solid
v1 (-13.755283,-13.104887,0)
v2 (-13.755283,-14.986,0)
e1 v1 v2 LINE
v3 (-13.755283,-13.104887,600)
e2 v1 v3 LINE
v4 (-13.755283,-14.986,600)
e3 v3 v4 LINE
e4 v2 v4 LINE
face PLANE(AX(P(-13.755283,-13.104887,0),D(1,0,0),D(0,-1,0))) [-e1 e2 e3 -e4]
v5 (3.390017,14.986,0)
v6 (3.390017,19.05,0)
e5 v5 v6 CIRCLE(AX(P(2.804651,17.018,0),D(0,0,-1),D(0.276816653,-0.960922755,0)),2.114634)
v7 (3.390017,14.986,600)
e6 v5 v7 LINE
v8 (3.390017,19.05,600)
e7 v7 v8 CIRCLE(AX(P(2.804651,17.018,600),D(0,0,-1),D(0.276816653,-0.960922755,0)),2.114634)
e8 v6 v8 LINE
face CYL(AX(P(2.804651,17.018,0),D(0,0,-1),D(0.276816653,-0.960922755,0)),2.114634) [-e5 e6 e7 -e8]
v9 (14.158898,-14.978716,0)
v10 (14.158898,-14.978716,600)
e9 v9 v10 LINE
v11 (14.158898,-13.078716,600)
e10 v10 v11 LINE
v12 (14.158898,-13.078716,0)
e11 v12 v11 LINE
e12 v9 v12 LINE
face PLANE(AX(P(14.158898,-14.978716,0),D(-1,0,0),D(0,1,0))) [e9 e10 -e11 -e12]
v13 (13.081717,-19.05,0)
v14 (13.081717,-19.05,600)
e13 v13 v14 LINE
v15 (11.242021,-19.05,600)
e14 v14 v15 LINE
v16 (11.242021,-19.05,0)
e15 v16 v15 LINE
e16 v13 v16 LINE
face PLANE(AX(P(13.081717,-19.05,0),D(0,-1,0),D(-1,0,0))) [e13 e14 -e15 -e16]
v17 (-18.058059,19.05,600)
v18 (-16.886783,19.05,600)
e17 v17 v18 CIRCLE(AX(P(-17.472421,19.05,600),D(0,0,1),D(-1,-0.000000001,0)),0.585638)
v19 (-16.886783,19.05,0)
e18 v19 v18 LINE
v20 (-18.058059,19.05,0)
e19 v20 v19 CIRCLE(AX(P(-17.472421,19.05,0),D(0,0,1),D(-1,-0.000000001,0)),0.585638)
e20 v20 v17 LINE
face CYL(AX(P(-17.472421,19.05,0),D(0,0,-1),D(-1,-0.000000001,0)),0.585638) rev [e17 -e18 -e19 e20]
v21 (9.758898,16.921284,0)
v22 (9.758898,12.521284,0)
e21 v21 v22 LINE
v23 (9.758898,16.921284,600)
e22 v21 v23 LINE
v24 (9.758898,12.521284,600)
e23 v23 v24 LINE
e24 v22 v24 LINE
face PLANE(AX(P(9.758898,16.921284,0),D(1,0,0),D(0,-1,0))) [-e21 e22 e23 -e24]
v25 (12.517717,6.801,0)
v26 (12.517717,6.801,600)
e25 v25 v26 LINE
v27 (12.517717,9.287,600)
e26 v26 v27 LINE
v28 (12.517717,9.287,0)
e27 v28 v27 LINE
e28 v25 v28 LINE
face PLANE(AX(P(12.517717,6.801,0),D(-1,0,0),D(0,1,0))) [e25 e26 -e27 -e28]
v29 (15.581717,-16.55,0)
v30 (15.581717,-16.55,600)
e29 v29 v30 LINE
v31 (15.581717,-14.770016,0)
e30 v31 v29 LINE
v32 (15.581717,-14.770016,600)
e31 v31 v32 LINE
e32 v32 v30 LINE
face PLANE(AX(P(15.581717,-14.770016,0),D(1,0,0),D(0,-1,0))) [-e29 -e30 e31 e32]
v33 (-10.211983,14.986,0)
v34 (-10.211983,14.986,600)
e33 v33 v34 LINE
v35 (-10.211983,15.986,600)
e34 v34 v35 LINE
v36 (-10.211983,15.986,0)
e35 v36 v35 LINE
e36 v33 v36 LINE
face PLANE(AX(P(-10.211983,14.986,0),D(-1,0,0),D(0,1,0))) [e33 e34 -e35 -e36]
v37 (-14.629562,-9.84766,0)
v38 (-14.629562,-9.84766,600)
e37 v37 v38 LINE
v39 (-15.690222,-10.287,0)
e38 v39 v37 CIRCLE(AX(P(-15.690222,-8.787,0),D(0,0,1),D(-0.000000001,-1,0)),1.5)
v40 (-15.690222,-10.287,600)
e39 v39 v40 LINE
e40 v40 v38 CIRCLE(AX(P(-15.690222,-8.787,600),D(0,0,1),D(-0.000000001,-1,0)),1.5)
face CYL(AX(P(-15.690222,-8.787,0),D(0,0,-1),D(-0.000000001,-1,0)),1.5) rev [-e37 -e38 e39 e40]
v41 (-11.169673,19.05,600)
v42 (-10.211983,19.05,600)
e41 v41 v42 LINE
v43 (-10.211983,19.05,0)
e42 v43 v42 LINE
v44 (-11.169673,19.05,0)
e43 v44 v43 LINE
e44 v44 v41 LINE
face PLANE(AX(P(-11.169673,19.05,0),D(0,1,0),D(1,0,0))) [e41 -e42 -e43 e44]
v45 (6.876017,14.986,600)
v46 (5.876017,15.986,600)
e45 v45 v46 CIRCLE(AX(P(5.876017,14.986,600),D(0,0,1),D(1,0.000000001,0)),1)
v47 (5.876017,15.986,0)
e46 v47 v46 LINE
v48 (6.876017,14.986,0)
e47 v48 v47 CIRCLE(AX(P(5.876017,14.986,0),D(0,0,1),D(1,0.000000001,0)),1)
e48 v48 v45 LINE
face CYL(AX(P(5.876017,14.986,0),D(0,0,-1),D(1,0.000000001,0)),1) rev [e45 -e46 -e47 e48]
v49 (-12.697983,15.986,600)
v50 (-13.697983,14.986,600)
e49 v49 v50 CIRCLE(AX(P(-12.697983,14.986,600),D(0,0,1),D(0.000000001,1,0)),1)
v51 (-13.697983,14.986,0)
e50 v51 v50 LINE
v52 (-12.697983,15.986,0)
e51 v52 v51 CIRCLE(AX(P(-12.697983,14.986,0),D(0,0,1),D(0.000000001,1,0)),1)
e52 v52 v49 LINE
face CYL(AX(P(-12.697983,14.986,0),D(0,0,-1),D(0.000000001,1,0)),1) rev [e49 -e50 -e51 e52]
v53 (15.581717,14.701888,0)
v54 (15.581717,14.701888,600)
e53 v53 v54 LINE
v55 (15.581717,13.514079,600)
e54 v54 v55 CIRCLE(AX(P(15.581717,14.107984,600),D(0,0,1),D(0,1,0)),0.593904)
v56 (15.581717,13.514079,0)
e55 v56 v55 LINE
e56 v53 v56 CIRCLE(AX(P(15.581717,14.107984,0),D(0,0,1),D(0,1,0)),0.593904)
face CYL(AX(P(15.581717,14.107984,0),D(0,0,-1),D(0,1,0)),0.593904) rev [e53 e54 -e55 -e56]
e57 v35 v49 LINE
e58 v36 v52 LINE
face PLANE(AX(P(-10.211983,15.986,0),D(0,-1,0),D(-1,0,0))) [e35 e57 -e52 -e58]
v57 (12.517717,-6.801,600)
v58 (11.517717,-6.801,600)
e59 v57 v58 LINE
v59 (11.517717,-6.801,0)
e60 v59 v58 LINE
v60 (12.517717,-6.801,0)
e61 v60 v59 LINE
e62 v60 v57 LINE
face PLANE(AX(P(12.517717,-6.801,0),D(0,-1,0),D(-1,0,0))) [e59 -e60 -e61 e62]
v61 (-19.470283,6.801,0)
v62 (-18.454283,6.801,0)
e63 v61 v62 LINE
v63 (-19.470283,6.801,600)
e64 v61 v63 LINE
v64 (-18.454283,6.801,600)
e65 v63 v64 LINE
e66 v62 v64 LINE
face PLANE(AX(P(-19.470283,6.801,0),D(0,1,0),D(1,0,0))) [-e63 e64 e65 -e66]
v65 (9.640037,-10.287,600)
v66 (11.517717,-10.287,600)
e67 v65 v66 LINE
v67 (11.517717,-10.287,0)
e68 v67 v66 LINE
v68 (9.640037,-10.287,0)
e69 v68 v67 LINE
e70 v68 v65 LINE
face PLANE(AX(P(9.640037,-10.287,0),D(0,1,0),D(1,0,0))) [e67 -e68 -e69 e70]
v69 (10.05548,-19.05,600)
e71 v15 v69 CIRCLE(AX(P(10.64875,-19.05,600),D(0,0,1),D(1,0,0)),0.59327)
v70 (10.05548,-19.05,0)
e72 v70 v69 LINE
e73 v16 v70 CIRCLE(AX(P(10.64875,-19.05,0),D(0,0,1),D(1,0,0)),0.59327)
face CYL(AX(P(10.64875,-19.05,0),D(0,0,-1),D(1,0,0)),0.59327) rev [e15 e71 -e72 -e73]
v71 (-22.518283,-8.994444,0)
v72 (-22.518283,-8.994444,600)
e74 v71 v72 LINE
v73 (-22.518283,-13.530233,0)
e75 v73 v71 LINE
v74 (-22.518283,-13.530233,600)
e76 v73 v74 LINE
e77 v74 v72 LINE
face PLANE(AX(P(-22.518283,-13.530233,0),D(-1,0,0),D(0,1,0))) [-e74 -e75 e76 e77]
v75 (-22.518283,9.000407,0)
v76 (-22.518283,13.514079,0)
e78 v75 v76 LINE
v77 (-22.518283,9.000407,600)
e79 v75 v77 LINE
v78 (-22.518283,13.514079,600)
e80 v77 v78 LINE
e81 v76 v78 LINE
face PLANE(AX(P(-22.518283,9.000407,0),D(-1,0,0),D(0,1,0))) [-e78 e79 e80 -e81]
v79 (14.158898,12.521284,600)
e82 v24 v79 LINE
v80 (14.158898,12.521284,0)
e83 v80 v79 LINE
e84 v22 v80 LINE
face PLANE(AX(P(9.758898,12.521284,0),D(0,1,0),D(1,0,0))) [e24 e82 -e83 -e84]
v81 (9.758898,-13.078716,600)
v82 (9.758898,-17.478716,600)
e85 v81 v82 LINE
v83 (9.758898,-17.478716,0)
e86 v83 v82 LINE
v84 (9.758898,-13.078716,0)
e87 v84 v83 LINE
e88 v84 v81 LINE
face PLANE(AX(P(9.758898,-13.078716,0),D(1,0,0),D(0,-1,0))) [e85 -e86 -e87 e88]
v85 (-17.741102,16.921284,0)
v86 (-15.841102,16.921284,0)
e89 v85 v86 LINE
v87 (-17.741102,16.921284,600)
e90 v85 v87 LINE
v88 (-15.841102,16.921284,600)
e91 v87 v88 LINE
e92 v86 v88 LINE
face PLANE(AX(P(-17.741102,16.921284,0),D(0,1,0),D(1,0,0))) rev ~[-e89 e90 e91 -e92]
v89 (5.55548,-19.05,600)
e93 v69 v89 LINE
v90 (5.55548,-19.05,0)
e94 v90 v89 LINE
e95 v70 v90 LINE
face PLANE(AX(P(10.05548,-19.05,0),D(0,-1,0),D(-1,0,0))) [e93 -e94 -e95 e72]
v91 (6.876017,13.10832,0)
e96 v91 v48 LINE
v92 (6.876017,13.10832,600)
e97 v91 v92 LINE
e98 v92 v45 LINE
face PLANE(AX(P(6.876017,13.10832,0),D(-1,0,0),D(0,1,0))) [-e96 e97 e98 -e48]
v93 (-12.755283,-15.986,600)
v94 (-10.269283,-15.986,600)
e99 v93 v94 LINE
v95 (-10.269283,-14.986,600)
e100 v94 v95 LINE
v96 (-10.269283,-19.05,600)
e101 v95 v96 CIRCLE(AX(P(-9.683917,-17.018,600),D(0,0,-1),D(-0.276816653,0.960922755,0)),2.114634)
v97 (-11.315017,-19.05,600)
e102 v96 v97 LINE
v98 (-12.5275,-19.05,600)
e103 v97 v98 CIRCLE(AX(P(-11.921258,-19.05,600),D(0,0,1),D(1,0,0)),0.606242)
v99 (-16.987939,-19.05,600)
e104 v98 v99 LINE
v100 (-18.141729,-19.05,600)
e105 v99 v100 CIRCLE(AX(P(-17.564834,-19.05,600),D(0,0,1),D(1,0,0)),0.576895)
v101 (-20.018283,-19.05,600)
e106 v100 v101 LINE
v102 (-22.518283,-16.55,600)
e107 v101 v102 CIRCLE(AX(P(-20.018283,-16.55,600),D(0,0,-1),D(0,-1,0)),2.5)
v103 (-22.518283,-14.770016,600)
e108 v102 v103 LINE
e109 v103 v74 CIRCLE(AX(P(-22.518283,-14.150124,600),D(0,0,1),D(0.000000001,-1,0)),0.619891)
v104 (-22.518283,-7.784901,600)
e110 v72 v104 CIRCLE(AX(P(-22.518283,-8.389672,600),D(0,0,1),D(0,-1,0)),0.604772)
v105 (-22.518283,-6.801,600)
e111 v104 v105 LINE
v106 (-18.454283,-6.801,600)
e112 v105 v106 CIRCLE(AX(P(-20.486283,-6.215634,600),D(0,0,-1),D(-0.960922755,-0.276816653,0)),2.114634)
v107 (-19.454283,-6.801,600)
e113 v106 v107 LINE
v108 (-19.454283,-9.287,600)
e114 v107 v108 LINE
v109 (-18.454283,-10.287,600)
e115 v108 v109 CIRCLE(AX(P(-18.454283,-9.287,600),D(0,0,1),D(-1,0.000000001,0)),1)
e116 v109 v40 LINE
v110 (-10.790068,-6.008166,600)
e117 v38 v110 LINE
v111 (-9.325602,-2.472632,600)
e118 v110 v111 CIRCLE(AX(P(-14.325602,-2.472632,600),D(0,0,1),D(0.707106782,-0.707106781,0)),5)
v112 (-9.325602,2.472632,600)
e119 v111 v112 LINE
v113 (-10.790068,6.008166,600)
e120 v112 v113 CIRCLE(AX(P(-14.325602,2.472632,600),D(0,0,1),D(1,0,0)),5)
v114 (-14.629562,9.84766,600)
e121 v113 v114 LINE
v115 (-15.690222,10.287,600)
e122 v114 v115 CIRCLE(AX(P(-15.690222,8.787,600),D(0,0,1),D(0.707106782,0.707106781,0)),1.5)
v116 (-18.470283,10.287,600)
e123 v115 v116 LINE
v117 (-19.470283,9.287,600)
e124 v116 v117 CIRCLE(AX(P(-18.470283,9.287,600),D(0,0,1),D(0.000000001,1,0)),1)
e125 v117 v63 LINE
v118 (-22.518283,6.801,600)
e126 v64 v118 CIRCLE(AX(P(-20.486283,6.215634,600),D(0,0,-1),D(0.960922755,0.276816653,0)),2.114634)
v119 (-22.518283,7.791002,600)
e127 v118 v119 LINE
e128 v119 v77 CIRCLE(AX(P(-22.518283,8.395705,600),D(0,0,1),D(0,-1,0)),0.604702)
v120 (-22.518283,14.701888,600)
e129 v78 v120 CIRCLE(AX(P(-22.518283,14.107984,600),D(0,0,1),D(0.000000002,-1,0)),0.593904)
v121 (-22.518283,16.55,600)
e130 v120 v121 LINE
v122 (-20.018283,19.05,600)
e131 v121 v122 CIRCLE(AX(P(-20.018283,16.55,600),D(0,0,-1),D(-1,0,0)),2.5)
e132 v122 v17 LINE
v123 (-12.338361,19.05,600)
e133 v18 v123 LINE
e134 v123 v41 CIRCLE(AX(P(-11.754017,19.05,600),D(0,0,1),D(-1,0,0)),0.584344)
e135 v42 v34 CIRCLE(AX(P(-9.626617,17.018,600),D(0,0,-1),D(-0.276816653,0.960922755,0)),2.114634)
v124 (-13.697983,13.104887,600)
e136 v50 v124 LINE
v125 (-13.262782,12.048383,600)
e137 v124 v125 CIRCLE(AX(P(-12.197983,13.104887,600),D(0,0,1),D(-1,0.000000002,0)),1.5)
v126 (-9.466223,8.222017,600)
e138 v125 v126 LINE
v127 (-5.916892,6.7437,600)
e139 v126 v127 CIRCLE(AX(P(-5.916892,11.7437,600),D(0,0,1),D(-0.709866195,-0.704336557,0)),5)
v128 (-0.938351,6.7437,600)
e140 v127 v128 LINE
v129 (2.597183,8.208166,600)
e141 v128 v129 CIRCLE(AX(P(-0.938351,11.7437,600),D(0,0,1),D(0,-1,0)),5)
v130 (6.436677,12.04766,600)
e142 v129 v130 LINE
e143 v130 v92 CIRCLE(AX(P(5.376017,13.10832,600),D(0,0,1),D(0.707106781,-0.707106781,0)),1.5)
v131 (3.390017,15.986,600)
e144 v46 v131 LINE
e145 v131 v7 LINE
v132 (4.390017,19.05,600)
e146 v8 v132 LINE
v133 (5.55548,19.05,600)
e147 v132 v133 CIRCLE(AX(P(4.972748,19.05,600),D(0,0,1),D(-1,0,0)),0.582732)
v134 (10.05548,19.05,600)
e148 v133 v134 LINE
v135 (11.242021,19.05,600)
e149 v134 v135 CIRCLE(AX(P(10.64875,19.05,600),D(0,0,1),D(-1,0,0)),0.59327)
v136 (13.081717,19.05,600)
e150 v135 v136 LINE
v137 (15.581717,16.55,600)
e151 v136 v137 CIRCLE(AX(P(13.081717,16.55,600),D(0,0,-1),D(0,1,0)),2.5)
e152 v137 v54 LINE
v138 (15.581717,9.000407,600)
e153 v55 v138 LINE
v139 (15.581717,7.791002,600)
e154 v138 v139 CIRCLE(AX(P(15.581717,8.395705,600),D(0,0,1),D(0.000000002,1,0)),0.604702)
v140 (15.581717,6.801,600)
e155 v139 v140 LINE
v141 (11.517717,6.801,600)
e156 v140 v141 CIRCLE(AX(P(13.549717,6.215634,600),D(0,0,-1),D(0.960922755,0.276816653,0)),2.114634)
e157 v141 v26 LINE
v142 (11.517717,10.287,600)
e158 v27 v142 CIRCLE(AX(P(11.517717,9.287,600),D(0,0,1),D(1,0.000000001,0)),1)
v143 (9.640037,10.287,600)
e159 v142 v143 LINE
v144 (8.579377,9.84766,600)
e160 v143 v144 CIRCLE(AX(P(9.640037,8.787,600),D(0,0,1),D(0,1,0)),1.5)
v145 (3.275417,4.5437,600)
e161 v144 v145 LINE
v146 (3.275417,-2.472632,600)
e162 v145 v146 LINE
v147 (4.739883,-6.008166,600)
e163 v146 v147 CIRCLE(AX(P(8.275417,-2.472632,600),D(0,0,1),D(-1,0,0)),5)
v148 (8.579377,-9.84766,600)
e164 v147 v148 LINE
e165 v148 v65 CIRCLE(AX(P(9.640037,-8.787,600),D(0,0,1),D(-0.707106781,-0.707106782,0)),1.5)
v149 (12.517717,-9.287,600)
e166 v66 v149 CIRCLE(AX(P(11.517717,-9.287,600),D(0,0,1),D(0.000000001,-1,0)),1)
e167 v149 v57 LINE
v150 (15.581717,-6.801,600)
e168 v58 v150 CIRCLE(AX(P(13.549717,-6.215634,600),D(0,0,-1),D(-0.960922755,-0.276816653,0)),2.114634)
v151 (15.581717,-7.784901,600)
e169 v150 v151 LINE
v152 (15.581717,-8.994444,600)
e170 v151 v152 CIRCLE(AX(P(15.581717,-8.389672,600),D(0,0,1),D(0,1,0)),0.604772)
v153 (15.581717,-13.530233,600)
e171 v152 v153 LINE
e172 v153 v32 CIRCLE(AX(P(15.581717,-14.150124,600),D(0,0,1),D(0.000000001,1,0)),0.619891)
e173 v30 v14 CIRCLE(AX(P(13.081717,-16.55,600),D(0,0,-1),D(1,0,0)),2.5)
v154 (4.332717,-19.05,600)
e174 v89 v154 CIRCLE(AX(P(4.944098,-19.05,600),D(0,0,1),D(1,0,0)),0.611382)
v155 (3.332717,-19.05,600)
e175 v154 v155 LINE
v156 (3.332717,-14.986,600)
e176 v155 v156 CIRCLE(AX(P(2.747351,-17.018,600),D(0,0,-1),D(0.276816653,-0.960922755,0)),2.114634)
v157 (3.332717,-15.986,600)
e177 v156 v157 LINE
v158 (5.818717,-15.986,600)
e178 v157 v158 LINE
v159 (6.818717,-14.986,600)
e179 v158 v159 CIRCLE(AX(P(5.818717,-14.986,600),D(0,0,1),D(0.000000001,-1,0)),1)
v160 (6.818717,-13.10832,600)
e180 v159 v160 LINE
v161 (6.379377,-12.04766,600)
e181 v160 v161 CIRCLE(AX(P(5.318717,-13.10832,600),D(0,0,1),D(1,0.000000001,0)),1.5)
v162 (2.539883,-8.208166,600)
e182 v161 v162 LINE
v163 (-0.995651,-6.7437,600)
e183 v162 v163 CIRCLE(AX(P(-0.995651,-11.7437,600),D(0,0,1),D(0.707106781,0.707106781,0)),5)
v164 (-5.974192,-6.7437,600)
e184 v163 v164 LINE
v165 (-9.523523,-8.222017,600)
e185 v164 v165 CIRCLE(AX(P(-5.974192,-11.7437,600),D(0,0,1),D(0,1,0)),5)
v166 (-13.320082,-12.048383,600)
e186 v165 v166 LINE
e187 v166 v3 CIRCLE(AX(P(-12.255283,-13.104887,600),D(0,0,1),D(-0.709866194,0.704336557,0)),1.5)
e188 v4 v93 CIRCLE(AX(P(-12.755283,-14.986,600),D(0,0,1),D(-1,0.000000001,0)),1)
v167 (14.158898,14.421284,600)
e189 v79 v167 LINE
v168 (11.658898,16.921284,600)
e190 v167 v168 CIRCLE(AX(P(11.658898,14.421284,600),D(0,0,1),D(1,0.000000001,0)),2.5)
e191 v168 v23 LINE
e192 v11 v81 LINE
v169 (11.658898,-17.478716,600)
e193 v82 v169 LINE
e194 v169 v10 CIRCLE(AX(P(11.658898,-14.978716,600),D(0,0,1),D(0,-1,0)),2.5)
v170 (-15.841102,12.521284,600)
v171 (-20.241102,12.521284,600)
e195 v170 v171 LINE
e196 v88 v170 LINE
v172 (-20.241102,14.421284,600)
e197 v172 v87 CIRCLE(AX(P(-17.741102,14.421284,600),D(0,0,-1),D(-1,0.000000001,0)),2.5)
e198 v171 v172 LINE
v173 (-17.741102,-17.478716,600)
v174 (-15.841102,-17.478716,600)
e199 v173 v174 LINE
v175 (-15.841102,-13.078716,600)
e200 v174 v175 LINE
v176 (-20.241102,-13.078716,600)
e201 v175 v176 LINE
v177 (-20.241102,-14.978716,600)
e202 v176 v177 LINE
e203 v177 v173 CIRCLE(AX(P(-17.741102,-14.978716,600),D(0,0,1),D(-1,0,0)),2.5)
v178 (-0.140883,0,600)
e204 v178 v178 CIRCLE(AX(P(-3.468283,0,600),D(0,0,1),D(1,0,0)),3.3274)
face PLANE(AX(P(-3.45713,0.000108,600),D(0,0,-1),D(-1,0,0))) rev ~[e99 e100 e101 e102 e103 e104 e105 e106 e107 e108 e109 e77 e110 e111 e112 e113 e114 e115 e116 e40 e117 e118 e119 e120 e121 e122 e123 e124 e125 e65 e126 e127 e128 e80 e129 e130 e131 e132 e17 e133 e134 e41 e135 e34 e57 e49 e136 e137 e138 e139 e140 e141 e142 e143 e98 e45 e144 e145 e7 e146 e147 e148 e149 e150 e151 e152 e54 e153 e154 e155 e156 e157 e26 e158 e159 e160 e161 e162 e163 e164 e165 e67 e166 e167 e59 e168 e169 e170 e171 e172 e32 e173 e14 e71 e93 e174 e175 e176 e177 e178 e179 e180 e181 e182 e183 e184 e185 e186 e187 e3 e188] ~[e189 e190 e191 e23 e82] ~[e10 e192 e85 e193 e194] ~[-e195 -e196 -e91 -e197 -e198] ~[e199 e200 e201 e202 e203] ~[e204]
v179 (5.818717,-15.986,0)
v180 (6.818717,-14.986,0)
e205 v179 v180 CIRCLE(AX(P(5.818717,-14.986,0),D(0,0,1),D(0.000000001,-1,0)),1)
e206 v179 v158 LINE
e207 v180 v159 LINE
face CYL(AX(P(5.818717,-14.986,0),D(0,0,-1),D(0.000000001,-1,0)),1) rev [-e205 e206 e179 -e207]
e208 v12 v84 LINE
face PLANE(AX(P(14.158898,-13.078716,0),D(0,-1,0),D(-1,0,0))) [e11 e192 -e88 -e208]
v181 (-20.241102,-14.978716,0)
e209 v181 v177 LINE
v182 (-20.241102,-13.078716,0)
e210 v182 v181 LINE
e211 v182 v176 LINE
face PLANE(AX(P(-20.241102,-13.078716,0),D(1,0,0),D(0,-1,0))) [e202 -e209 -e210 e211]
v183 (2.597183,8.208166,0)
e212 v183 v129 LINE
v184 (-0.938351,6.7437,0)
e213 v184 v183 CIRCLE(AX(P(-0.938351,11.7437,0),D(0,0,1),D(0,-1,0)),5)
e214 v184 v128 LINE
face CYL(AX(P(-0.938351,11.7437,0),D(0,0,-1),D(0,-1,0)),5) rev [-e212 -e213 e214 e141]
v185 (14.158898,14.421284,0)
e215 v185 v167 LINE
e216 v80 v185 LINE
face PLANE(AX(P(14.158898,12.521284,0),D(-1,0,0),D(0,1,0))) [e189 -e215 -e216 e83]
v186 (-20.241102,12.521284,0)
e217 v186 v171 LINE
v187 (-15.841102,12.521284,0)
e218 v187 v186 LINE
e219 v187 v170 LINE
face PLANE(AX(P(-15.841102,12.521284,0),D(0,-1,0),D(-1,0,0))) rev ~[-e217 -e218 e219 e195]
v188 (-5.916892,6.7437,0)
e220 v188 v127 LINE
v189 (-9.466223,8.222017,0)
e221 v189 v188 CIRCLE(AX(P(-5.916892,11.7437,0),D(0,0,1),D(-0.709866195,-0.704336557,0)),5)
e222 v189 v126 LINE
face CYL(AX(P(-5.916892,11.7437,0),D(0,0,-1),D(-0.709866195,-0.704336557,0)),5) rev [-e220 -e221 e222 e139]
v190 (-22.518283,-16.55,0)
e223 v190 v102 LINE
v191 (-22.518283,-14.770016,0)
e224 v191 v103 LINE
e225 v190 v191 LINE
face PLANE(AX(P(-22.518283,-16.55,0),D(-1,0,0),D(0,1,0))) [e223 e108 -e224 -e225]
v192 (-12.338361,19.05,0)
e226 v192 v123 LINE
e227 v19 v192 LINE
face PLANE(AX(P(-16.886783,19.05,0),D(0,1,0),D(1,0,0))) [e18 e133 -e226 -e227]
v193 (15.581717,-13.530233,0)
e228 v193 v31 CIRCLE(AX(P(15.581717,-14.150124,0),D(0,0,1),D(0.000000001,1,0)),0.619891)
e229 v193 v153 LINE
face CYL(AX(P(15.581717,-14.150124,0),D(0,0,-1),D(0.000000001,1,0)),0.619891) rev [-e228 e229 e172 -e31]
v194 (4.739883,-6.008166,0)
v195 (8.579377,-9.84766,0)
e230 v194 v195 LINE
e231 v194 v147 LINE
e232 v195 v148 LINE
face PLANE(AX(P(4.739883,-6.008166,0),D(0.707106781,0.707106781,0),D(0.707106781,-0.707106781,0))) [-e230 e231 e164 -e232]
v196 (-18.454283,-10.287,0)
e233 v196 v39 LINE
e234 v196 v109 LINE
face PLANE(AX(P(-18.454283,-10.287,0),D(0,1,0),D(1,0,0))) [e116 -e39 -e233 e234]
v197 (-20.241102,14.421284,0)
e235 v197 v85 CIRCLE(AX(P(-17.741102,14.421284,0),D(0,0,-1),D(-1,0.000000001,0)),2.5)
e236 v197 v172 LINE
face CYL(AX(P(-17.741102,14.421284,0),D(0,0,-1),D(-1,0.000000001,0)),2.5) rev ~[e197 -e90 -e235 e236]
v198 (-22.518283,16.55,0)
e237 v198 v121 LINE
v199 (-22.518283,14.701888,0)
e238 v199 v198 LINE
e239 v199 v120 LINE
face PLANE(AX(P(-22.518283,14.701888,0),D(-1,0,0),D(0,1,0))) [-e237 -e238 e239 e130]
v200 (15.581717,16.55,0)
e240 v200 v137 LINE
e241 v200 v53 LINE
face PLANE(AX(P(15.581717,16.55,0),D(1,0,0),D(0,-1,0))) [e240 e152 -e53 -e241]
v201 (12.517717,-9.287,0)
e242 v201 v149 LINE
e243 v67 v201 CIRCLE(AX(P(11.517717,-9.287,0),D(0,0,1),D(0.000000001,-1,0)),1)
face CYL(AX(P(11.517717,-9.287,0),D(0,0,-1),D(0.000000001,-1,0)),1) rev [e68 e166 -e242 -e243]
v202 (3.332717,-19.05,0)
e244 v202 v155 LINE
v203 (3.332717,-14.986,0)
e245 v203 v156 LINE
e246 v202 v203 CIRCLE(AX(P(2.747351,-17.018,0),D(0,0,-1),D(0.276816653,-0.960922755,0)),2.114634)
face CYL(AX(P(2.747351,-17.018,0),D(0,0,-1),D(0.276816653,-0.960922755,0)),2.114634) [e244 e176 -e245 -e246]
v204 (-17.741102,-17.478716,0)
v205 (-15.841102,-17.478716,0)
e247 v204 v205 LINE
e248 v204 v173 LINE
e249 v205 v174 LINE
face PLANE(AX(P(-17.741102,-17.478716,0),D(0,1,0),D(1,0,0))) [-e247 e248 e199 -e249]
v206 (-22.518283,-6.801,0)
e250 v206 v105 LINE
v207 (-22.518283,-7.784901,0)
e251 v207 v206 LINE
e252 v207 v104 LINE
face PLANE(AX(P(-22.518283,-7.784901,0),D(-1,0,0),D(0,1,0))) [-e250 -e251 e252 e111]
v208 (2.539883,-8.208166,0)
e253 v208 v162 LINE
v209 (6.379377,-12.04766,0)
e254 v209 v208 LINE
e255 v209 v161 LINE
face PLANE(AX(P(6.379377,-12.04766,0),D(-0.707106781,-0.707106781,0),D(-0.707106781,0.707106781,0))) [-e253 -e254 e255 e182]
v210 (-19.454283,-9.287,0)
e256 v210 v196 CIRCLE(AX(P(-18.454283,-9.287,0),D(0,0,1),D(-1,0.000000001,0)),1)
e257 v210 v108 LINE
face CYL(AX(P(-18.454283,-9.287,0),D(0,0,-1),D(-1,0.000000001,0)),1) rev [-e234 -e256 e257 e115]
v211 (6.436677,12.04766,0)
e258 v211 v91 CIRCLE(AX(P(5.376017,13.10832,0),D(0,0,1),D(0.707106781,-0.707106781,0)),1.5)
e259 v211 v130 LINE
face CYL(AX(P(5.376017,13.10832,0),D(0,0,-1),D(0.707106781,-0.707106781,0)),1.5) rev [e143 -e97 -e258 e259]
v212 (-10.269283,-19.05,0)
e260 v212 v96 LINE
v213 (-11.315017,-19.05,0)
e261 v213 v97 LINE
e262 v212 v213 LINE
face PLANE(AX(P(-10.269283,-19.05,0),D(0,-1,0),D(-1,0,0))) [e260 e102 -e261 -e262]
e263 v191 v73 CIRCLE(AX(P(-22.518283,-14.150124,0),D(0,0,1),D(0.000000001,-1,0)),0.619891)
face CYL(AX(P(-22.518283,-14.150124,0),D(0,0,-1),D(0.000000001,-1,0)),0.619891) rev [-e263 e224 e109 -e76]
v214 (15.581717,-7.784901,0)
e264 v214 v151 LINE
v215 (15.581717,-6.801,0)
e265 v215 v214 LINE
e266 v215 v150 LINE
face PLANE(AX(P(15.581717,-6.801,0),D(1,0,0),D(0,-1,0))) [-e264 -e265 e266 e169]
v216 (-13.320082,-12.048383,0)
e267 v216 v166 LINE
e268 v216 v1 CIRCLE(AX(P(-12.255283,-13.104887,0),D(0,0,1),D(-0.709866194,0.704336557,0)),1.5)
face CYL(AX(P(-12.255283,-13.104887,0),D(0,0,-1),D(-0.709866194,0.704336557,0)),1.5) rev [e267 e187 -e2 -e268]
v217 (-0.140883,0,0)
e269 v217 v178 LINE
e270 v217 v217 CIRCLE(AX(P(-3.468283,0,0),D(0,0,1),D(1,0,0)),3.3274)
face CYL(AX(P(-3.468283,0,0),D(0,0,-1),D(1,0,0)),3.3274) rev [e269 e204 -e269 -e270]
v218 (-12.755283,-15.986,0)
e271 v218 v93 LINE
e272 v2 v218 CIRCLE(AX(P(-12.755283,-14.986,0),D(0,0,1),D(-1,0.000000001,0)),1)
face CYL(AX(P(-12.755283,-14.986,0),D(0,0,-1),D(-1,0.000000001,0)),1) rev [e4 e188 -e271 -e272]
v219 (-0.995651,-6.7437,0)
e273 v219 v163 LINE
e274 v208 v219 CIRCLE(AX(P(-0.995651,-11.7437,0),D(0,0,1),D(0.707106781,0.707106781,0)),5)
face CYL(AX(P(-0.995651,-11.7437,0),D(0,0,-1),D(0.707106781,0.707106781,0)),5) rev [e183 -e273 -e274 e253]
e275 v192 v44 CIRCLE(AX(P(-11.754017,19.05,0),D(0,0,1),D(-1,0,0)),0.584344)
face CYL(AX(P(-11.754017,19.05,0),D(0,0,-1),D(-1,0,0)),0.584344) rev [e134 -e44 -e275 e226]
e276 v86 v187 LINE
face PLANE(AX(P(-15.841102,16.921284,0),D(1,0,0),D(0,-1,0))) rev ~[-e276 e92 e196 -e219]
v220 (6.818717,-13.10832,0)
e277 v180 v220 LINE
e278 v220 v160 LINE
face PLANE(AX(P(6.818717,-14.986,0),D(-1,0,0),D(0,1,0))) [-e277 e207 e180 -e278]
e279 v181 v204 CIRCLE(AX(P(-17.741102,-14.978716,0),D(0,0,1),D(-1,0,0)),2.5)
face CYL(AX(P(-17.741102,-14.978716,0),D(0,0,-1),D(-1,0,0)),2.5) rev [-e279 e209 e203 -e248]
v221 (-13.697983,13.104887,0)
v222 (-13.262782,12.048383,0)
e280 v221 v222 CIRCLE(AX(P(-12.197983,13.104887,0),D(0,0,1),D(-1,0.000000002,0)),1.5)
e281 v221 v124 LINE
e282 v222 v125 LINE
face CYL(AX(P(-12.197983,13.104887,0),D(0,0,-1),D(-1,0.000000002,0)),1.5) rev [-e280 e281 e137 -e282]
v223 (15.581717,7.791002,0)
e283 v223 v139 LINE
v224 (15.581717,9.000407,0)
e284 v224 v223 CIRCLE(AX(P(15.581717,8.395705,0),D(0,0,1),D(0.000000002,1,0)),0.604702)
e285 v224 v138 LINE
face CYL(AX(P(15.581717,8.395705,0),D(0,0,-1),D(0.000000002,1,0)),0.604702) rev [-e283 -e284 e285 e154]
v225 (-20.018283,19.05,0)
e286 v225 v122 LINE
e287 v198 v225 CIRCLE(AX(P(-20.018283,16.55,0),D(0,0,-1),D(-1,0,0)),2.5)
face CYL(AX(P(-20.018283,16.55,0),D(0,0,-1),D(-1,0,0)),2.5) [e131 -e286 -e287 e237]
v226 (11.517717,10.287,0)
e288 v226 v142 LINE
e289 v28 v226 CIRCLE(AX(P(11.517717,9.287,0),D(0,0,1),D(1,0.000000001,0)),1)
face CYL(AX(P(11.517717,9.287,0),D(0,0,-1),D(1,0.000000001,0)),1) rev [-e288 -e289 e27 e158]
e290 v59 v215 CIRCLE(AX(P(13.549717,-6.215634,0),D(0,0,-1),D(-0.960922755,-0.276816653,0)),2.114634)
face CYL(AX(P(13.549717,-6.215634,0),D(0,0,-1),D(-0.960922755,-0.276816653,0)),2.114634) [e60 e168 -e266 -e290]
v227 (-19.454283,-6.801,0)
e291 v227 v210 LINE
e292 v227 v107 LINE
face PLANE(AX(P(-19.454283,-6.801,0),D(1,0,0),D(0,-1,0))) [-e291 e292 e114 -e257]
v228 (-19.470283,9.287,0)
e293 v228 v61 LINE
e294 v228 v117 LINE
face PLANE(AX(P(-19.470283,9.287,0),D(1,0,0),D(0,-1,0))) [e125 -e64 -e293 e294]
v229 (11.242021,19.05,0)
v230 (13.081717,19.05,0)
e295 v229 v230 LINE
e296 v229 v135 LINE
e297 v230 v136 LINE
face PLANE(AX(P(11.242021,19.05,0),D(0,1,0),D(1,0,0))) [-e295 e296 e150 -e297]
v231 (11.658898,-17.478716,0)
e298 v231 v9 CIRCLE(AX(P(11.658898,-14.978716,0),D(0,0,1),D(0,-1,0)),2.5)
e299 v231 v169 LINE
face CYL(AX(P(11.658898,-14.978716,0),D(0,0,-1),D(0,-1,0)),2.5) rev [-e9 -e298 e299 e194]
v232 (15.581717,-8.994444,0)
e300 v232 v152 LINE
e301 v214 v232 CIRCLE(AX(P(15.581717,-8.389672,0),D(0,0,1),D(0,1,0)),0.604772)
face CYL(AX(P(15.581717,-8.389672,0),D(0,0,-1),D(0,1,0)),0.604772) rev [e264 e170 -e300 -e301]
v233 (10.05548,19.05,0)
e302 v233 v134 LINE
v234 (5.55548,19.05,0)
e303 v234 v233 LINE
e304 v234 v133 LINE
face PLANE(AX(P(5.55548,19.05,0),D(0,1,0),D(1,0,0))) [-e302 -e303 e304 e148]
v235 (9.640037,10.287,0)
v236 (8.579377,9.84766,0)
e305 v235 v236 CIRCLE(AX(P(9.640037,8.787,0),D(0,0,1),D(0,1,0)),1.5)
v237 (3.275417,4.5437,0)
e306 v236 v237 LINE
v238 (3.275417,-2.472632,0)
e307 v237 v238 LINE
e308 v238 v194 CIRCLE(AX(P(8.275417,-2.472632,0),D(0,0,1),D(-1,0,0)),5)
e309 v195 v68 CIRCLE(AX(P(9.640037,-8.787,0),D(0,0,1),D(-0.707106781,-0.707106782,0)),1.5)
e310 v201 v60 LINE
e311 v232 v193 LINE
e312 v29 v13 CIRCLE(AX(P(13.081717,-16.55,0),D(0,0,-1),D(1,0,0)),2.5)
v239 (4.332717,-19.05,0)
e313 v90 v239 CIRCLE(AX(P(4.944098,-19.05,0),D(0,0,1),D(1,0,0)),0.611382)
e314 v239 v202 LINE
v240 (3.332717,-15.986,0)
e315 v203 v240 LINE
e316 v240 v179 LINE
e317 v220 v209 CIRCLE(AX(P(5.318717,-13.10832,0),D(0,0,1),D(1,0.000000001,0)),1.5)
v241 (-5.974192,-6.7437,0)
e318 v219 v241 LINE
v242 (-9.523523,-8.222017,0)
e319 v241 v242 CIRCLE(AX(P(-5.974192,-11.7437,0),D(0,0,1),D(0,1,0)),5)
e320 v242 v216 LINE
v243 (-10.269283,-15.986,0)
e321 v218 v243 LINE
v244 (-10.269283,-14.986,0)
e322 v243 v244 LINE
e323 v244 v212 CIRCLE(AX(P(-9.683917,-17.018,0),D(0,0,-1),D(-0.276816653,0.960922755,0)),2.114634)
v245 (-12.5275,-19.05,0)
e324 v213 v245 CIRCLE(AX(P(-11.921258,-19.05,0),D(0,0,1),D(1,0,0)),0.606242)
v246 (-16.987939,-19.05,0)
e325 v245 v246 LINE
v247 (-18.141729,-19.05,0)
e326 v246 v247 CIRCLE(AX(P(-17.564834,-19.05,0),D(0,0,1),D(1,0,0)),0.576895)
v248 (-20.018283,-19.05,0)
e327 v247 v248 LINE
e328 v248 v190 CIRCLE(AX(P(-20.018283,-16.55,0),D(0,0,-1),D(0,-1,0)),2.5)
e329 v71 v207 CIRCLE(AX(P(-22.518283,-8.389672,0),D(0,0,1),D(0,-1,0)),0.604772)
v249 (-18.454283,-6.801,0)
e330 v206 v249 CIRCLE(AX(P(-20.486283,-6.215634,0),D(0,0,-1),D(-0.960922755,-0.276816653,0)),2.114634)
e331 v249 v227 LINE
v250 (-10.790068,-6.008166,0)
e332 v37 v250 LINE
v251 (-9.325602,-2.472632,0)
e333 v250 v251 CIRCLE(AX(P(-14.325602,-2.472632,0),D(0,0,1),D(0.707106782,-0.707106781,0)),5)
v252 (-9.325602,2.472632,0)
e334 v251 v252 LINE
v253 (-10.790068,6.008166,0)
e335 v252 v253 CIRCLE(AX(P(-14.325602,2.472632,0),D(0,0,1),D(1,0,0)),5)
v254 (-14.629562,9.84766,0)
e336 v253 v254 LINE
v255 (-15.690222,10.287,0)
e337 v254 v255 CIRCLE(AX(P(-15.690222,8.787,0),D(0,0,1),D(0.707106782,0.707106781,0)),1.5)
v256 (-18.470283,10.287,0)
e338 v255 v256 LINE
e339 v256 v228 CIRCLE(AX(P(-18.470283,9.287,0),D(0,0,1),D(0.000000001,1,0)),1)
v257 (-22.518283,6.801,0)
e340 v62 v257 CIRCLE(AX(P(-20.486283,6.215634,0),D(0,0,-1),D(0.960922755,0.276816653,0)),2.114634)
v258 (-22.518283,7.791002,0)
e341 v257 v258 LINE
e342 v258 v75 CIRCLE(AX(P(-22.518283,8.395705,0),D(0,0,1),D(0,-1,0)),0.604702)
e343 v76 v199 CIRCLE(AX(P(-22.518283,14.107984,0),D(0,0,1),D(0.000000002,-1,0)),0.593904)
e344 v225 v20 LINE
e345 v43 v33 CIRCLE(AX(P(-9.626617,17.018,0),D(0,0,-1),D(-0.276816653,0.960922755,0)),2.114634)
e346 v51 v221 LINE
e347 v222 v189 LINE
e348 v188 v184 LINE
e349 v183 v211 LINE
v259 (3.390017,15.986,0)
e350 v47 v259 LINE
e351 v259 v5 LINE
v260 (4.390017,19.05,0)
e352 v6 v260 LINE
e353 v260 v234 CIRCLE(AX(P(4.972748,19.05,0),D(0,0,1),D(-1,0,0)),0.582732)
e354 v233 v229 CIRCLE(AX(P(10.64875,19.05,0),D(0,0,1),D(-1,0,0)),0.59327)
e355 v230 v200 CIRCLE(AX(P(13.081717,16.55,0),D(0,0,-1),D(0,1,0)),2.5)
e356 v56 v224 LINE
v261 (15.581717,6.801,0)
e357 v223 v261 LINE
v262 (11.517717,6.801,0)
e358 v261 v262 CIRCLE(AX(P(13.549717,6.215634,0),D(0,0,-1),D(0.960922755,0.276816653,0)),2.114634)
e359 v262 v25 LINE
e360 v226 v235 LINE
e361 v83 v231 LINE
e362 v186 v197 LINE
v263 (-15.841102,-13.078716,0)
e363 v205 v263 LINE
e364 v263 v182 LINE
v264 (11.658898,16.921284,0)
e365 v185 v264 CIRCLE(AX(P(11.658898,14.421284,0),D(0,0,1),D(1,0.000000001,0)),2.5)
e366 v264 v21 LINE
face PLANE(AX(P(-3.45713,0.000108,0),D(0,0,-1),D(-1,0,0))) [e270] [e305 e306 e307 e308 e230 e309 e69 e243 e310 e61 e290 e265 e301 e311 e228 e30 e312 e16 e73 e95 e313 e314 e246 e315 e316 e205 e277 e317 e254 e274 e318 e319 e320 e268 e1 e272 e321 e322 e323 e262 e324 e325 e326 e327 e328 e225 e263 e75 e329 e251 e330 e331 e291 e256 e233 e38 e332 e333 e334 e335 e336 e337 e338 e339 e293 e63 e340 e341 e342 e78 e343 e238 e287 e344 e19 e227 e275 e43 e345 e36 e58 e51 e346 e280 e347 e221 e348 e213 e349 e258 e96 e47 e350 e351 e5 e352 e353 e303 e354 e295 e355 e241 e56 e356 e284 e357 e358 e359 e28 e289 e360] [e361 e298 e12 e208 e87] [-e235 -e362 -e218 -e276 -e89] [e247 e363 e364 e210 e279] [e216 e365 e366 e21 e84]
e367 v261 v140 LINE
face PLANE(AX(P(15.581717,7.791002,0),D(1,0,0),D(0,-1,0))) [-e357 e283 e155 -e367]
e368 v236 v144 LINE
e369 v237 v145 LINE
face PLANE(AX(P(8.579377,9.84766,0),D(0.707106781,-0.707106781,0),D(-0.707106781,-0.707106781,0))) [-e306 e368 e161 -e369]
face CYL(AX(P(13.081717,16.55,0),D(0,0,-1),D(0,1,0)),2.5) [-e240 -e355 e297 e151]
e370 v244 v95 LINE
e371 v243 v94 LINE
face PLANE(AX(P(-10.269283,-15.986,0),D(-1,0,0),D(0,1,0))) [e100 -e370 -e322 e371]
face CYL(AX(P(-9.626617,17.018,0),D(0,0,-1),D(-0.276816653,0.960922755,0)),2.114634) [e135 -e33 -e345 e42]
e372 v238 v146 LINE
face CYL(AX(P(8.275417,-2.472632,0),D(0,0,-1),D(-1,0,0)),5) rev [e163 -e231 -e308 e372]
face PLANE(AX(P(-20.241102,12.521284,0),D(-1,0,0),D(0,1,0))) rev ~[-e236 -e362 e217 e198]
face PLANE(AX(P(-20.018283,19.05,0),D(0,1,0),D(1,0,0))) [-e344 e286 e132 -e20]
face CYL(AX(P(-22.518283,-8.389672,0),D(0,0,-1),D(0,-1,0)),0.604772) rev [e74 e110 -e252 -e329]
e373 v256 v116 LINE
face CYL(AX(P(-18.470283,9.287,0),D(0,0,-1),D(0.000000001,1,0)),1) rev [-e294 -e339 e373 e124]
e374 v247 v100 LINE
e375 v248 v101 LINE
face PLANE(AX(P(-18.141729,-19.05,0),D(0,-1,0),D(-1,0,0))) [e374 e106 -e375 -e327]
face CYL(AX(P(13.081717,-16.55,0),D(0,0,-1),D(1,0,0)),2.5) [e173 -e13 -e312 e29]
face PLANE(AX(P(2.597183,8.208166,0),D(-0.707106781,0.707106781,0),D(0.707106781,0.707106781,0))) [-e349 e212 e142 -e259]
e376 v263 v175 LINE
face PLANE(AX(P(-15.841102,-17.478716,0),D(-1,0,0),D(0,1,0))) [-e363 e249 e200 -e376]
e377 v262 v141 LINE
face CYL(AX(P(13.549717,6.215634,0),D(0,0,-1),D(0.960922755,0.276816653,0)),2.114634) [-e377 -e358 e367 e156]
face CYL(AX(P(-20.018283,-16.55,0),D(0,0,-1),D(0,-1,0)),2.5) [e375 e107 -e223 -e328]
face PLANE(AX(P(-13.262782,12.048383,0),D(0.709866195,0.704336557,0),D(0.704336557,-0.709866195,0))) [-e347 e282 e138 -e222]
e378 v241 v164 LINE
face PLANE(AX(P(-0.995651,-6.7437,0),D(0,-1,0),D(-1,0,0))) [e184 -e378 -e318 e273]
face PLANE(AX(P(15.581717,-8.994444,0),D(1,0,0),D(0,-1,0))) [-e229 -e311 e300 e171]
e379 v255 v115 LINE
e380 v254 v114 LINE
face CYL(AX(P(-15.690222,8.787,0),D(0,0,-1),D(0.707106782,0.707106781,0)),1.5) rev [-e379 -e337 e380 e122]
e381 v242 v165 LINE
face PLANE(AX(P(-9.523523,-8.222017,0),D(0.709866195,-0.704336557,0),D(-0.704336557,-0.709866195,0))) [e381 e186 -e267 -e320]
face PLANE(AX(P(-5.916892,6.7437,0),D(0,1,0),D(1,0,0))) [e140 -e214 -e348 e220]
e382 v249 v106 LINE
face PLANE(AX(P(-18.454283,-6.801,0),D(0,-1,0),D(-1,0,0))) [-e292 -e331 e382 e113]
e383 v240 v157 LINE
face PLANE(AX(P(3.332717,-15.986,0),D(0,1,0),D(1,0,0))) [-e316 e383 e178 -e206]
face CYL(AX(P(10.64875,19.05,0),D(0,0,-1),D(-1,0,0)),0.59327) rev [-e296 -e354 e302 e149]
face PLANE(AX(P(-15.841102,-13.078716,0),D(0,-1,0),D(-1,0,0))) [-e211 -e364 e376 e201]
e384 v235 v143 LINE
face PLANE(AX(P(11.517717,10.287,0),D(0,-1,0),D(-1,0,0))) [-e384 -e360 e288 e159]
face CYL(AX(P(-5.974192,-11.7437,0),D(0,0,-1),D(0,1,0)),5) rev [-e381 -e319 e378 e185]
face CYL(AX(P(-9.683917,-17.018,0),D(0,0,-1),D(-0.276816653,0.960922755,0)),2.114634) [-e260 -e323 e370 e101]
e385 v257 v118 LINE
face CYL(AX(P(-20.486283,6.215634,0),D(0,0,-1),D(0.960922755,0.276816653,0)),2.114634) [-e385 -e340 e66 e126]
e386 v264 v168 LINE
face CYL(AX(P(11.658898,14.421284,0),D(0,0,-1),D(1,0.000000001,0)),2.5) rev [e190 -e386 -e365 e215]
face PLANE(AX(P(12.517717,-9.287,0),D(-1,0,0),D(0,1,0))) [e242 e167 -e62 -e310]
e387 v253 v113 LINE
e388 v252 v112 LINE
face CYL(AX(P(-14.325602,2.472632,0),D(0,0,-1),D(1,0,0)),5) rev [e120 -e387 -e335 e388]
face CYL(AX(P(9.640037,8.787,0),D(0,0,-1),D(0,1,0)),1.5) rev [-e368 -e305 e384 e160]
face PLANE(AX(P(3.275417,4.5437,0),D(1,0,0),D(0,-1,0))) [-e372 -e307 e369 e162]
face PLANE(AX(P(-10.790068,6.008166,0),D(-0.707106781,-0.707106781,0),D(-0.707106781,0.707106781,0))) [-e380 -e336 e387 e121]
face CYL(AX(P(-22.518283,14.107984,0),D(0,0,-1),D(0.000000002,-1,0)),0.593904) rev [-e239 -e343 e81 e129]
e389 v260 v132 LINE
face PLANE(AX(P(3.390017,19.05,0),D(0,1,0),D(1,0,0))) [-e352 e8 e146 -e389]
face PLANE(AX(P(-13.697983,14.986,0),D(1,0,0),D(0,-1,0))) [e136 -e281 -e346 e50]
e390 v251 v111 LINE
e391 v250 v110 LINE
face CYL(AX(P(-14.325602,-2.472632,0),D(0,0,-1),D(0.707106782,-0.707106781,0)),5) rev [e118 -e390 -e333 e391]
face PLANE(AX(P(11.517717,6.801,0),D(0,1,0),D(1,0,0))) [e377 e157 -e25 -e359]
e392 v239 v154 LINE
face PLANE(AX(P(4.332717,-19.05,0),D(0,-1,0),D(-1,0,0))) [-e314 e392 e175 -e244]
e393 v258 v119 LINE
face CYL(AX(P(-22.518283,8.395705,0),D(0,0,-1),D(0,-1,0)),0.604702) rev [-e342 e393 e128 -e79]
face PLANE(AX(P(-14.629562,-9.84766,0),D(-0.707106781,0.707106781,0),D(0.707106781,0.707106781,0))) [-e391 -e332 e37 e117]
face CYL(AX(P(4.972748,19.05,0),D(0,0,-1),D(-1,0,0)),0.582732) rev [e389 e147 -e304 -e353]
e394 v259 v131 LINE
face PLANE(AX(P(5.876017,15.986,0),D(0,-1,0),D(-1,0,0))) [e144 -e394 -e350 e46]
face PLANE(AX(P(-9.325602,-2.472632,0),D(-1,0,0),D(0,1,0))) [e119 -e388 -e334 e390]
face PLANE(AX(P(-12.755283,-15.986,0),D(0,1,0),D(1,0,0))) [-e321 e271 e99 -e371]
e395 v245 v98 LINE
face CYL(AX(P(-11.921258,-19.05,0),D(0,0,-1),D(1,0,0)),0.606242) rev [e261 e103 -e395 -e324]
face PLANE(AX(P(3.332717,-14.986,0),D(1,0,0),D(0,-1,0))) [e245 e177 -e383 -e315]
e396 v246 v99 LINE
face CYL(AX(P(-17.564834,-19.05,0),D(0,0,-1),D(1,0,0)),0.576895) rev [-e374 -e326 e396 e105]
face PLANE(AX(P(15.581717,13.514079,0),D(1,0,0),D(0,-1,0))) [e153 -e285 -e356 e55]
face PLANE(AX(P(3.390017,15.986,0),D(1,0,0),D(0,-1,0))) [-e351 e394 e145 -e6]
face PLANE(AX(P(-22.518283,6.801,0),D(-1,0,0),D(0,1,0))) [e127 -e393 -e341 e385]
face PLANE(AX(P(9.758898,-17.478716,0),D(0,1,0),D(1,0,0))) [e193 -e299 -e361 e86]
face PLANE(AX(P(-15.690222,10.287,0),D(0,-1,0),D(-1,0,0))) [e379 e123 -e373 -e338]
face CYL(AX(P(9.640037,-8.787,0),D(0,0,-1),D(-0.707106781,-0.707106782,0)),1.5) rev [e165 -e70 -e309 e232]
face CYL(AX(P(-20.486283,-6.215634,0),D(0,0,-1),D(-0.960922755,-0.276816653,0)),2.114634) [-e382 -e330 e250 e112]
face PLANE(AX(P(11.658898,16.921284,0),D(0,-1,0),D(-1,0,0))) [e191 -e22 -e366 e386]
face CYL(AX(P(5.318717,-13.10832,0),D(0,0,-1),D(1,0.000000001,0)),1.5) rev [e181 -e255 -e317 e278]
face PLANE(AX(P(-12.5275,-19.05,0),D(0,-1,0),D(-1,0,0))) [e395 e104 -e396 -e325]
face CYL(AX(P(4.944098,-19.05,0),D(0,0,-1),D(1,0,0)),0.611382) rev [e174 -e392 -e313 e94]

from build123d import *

# Parameters (mm, degrees)
SKETCH1_R           = 3.3274
BOSS_EXTRUDE1_DEPTH = 600


with BuildPart() as part:
    # Sketch1 → Boss-Extrude1 (new body)
    with BuildSketch(Plane.XY):
        with BuildLine():
            Line((-13.26278249, 12.048382599), (-9.466223312, 8.222017216))
            ThreePointArc((-9.466223312, 8.222017216), (-7.839336885, 7.128051946), (-5.916892336, 6.7437))
            Line((-5.916892336, 6.7437), (-0.938351009, 6.7437))
            ThreePointArc((-0.938351009, 6.7437), (0.975066153, 7.124302337), (2.597182897, 8.208166094))
            Line((2.597182897, 8.208166094), (6.436676974, 12.047660172))
            ThreePointArc((6.436676974, 12.047660172), (6.761836101, 12.534295195), (6.876016803, 13.108320344))
            Line((6.876016803, 13.108320344), (6.876016803, 14.986))
            ThreePointArc((6.876016803, 14.986), (6.583123584, 15.693106781), (5.876016803, 15.986))
            Line((5.876016803, 15.986), (3.390016803, 15.986))
            Line((3.390016803, 15.986), (3.390016803, 14.986))
            ThreePointArc((3.390016803, 14.986), (0.690016803, 17.018), (3.390016803, 19.05))
            Line((3.390016803, 19.05), (4.390016803, 19.05))
            ThreePointArc((4.390016803, 19.05), (4.972748366, 18.467268437), (5.555479929, 19.05))
            Line((5.555479929, 19.05), (10.055479929, 19.05))
            ThreePointArc((10.055479929, 19.05), (10.648750347, 18.456729582), (11.242020765, 19.05))
            Line((11.242020765, 19.05), (13.081716803, 19.05))
            ThreePointArc((13.081716803, 19.05), (14.849483756, 18.317766953), (15.581716803, 16.55))
            Line((15.581716803, 16.55), (15.581716803, 14.701887799))
            ThreePointArc((15.581716803, 14.701887799), (14.98781258, 14.107983576), (15.581716803, 13.514079353))
            Line((15.581716803, 13.514079353), (15.581716803, 9.000407261))
            ThreePointArc((15.581716803, 9.000407261), (14.977014321, 8.39570478), (15.581716803, 7.791002299))
            Line((15.581716803, 7.791002299), (15.581716803, 6.801))
            ThreePointArc((15.581716803, 6.801), (13.549716803, 4.101), (11.517716803, 6.801))
            Line((11.517716803, 6.801), (12.517716803, 6.801))
            Line((12.517716803, 6.801), (12.517716803, 9.287))
            ThreePointArc((12.517716803, 9.287), (12.224823584, 9.994106781), (11.517716803, 10.287))
            Line((11.517716803, 10.287), (9.640037146, 10.287))
            ThreePointArc((9.640037146, 10.287), (9.066011998, 10.172819299), (8.579376974, 9.847660172))
            Line((8.579376974, 9.847660172), (3.275416803, 4.5437))
            Line((3.275416803, 4.5437), (3.275416803, -2.472632188))
            ThreePointArc((3.275416803, -2.472632188), (3.65601914, -4.38604935), (4.739882897, -6.008166094))
            Line((4.739882897, -6.008166094), (8.579376974, -9.847660172))
            ThreePointArc((8.579376974, -9.847660172), (9.066011998, -10.172819299), (9.640037146, -10.287))
            Line((9.640037146, -10.287), (11.517716803, -10.287))
            ThreePointArc((11.517716803, -10.287), (12.224823584, -9.994106781), (12.517716803, -9.287))
            Line((12.517716803, -9.287), (12.517716803, -6.801))
            Line((12.517716803, -6.801), (11.517716803, -6.801))
            ThreePointArc((11.517716803, -6.801), (13.549716803, -4.101), (15.581716803, -6.801))
            Line((15.581716803, -6.801), (15.581716803, -7.784900507))
            ThreePointArc((15.581716803, -7.784900507), (14.976944942, -8.389672368), (15.581716803, -8.994444229))
            Line((15.581716803, -8.994444229), (15.581716803, -13.530233187))
            ThreePointArc((15.581716803, -13.530233187), (14.961825645, -14.150124345), (15.581716803, -14.770015502))
            Line((15.581716803, -14.770015502), (15.581716803, -16.55))
            ThreePointArc((15.581716803, -16.55), (14.849483756, -18.317766953), (13.081716803, -19.05))
            Line((13.081716803, -19.05), (11.242020765, -19.05))
            ThreePointArc((11.242020765, -19.05), (10.648750347, -18.456729582), (10.055479929, -19.05))
            Line((10.055479929, -19.05), (5.555479929, -19.05))
            ThreePointArc((5.555479929, -19.05), (4.944098366, -18.438618437), (4.332716803, -19.05))
            Line((4.332716803, -19.05), (3.332716803, -19.05))
            ThreePointArc((3.332716803, -19.05), (0.632716803, -17.018), (3.332716803, -14.986))
            Line((3.332716803, -14.986), (3.332716803, -15.986))
            Line((3.332716803, -15.986), (5.818716803, -15.986))
            ThreePointArc((5.818716803, -15.986), (6.525823584, -15.693106781), (6.818716803, -14.986))
            Line((6.818716803, -14.986), (6.818716803, -13.108320344))
            ThreePointArc((6.818716803, -13.108320344), (6.704536101, -12.534295195), (6.379376974, -12.047660172))
            Line((6.379376974, -12.047660172), (2.539882897, -8.208166094))
            ThreePointArc((2.539882897, -8.208166094), (0.917766153, -7.124302337), (-0.995651009, -6.7437))
            Line((-0.995651009, -6.7437), (-5.974192336, -6.7437))
            ThreePointArc((-5.974192336, -6.7437), (-7.896636885, -7.128051946), (-9.523523312, -8.222017216))
            Line((-9.523523312, -8.222017216), (-13.32008249, -12.048382599))
            ThreePointArc((-13.32008249, -12.048382599), (-13.642222082, -12.533572695), (-13.755283197, -13.104887434))
            Line((-13.755283197, -13.104887434), (-13.755283197, -14.986))
            ThreePointArc((-13.755283197, -14.986), (-13.462389979, -15.693106781), (-12.755283197, -15.986))
            Line((-12.755283197, -15.986), (-10.269283197, -15.986))
            Line((-10.269283197, -15.986), (-10.269283197, -14.986))
            ThreePointArc((-10.269283197, -14.986), (-7.569283197, -17.018), (-10.269283197, -19.05))
            Line((-10.269283197, -19.05), (-11.315016833, -19.05))
            ThreePointArc((-11.315016833, -19.05), (-11.921258393, -18.44375844), (-12.527499953, -19.05))
            Line((-12.527499953, -19.05), (-16.98793888, -19.05))
            ThreePointArc((-16.98793888, -19.05), (-17.564834103, -18.473104777), (-18.141729326, -19.05))
            Line((-18.141729326, -19.05), (-20.018283197, -19.05))
            ThreePointArc((-20.018283197, -19.05), (-21.78605015, -18.317766953), (-22.518283197, -16.55))
            Line((-22.518283197, -16.55), (-22.518283197, -14.770015502))
            ThreePointArc((-22.518283197, -14.770015502), (-21.89839204, -14.150124345), (-22.518283197, -13.530233187))
            Line((-22.518283197, -13.530233187), (-22.518283197, -8.994444229))
            ThreePointArc((-22.518283197, -8.994444229), (-21.913511336, -8.389672368), (-22.518283197, -7.784900507))
            Line((-22.518283197, -7.784900507), (-22.518283197, -6.801))
            ThreePointArc((-22.518283197, -6.801), (-20.486283197, -4.101), (-18.454283197, -6.801))
            Line((-18.454283197, -6.801), (-19.454283197, -6.801))
            Line((-19.454283197, -6.801), (-19.454283197, -9.287))
            ThreePointArc((-19.454283197, -9.287), (-19.161389979, -9.994106781), (-18.454283197, -10.287))
            Line((-18.454283197, -10.287), (-15.690222352, -10.287))
            ThreePointArc((-15.690222352, -10.287), (-15.116197203, -10.172819299), (-14.62956218, -9.847660172))
            Line((-14.62956218, -9.847660172), (-10.790068102, -6.008166094))
            ThreePointArc((-10.790068102, -6.008166094), (-9.706204346, -4.38604935), (-9.325602008, -2.472632188))
            Line((-9.325602008, -2.472632188), (-9.325602008, 2.472632188))
            ThreePointArc((-9.325602008, 2.472632188), (-9.706204346, 4.38604935), (-10.790068102, 6.008166094))
            Line((-10.790068102, 6.008166094), (-14.62956218, 9.847660172))
            ThreePointArc((-14.62956218, 9.847660172), (-15.116197203, 10.172819299), (-15.690222352, 10.287))
            Line((-15.690222352, 10.287), (-18.470283197, 10.287))
            ThreePointArc((-18.470283197, 10.287), (-19.177389979, 9.994106781), (-19.470283197, 9.287))
            Line((-19.470283197, 9.287), (-19.470283197, 6.801))
            Line((-19.470283197, 6.801), (-18.454283197, 6.801))
            ThreePointArc((-18.454283197, 6.801), (-20.486283197, 4.101), (-22.518283197, 6.801))
            Line((-22.518283197, 6.801), (-22.518283197, 7.791002299))
            ThreePointArc((-22.518283197, 7.791002299), (-21.913580716, 8.39570478), (-22.518283197, 9.000407261))
            Line((-22.518283197, 9.000407261), (-22.518283197, 13.514079353))
            ThreePointArc((-22.518283197, 13.514079353), (-21.924378975, 14.107983576), (-22.518283197, 14.701887799))
            Line((-22.518283197, 14.701887799), (-22.518283197, 16.55))
            ThreePointArc((-22.518283197, 16.55), (-21.78605015, 18.317766953), (-20.018283197, 19.05))
            Line((-20.018283197, 19.05), (-18.058059148, 19.05))
            ThreePointArc((-18.058059148, 19.05), (-17.472421173, 18.464362025), (-16.886783197, 19.05))
            Line((-16.886783197, 19.05), (-12.338361419, 19.05))
            ThreePointArc((-12.338361419, 19.05), (-11.7540173, 18.465655881), (-11.169673181, 19.05))
            Line((-11.169673181, 19.05), (-10.211983197, 19.05))
            ThreePointArc((-10.211983197, 19.05), (-7.511983197, 17.018), (-10.211983197, 14.986))
            Line((-10.211983197, 14.986), (-10.211983197, 15.986))
            Line((-10.211983197, 15.986), (-12.697983197, 15.986))
            ThreePointArc((-12.697983197, 15.986), (-13.405089979, 15.693106781), (-13.697983197, 14.986))
            Line((-13.697983197, 14.986), (-13.697983197, 13.104887434))
            ThreePointArc((-13.697983197, 13.104887434), (-13.584922082, 12.533572695), (-13.26278249, 12.048382599))
        make_face()
        with Locations((-3.468283197, 0)):
            Circle(SKETCH1_R, mode=Mode.SUBTRACT)
        with BuildLine():
            Line((14.158897896, 12.521284057), (14.158897896, 14.421284057))
            ThreePointArc((14.158897896, 14.421284057), (13.426664849, 16.189051009), (11.658897896, 16.921284057))
            Line((11.658897896, 16.921284057), (9.758897896, 16.921284057))
            Line((9.758897896, 16.921284057), (9.758897896, 12.521284057))
            Line((9.758897896, 12.521284057), (14.158897896, 12.521284057))
        make_face(mode=Mode.SUBTRACT)
        with BuildLine():
            Line((-15.841102104, 12.521284057), (-20.241102104, 12.521284057))
            Line((-20.241102104, 12.521284057), (-20.241102104, 14.421284057))
            ThreePointArc((-20.241102104, 14.421284057), (-19.508869057, 16.189051009), (-17.741102104, 16.921284057))
            Line((-17.741102104, 16.921284057), (-15.841102104, 16.921284057))
            Line((-15.841102104, 16.921284057), (-15.841102104, 12.521284057))
        make_face(mode=Mode.SUBTRACT)
        with BuildLine():
            Line((-15.841102104, -17.478715943), (-15.841102104, -13.078715943))
            Line((-15.841102104, -13.078715943), (-20.241102104, -13.078715943))
            Line((-20.241102104, -13.078715943), (-20.241102104, -14.978715943))
            ThreePointArc((-20.241102104, -14.978715943), (-19.508869057, -16.746482896), (-17.741102104, -17.478715943))
            Line((-17.741102104, -17.478715943), (-15.841102104, -17.478715943))
        make_face(mode=Mode.SUBTRACT)
        with BuildLine():
            Line((14.158897896, -14.978715943), (14.158897896, -13.078715943))
            Line((14.158897896, -13.078715943), (9.758897896, -13.078715943))
            Line((9.758897896, -13.078715943), (9.758897896, -17.478715943))
            Line((9.758897896, -17.478715943), (11.658897896, -17.478715943))
            ThreePointArc((11.658897896, -17.478715943), (13.426664849, -16.746482896), (14.158897896, -14.978715943))
        make_face(mode=Mode.SUBTRACT)
    extrude(amount=BOSS_EXTRUDE1_DEPTH)


solid = part.part
